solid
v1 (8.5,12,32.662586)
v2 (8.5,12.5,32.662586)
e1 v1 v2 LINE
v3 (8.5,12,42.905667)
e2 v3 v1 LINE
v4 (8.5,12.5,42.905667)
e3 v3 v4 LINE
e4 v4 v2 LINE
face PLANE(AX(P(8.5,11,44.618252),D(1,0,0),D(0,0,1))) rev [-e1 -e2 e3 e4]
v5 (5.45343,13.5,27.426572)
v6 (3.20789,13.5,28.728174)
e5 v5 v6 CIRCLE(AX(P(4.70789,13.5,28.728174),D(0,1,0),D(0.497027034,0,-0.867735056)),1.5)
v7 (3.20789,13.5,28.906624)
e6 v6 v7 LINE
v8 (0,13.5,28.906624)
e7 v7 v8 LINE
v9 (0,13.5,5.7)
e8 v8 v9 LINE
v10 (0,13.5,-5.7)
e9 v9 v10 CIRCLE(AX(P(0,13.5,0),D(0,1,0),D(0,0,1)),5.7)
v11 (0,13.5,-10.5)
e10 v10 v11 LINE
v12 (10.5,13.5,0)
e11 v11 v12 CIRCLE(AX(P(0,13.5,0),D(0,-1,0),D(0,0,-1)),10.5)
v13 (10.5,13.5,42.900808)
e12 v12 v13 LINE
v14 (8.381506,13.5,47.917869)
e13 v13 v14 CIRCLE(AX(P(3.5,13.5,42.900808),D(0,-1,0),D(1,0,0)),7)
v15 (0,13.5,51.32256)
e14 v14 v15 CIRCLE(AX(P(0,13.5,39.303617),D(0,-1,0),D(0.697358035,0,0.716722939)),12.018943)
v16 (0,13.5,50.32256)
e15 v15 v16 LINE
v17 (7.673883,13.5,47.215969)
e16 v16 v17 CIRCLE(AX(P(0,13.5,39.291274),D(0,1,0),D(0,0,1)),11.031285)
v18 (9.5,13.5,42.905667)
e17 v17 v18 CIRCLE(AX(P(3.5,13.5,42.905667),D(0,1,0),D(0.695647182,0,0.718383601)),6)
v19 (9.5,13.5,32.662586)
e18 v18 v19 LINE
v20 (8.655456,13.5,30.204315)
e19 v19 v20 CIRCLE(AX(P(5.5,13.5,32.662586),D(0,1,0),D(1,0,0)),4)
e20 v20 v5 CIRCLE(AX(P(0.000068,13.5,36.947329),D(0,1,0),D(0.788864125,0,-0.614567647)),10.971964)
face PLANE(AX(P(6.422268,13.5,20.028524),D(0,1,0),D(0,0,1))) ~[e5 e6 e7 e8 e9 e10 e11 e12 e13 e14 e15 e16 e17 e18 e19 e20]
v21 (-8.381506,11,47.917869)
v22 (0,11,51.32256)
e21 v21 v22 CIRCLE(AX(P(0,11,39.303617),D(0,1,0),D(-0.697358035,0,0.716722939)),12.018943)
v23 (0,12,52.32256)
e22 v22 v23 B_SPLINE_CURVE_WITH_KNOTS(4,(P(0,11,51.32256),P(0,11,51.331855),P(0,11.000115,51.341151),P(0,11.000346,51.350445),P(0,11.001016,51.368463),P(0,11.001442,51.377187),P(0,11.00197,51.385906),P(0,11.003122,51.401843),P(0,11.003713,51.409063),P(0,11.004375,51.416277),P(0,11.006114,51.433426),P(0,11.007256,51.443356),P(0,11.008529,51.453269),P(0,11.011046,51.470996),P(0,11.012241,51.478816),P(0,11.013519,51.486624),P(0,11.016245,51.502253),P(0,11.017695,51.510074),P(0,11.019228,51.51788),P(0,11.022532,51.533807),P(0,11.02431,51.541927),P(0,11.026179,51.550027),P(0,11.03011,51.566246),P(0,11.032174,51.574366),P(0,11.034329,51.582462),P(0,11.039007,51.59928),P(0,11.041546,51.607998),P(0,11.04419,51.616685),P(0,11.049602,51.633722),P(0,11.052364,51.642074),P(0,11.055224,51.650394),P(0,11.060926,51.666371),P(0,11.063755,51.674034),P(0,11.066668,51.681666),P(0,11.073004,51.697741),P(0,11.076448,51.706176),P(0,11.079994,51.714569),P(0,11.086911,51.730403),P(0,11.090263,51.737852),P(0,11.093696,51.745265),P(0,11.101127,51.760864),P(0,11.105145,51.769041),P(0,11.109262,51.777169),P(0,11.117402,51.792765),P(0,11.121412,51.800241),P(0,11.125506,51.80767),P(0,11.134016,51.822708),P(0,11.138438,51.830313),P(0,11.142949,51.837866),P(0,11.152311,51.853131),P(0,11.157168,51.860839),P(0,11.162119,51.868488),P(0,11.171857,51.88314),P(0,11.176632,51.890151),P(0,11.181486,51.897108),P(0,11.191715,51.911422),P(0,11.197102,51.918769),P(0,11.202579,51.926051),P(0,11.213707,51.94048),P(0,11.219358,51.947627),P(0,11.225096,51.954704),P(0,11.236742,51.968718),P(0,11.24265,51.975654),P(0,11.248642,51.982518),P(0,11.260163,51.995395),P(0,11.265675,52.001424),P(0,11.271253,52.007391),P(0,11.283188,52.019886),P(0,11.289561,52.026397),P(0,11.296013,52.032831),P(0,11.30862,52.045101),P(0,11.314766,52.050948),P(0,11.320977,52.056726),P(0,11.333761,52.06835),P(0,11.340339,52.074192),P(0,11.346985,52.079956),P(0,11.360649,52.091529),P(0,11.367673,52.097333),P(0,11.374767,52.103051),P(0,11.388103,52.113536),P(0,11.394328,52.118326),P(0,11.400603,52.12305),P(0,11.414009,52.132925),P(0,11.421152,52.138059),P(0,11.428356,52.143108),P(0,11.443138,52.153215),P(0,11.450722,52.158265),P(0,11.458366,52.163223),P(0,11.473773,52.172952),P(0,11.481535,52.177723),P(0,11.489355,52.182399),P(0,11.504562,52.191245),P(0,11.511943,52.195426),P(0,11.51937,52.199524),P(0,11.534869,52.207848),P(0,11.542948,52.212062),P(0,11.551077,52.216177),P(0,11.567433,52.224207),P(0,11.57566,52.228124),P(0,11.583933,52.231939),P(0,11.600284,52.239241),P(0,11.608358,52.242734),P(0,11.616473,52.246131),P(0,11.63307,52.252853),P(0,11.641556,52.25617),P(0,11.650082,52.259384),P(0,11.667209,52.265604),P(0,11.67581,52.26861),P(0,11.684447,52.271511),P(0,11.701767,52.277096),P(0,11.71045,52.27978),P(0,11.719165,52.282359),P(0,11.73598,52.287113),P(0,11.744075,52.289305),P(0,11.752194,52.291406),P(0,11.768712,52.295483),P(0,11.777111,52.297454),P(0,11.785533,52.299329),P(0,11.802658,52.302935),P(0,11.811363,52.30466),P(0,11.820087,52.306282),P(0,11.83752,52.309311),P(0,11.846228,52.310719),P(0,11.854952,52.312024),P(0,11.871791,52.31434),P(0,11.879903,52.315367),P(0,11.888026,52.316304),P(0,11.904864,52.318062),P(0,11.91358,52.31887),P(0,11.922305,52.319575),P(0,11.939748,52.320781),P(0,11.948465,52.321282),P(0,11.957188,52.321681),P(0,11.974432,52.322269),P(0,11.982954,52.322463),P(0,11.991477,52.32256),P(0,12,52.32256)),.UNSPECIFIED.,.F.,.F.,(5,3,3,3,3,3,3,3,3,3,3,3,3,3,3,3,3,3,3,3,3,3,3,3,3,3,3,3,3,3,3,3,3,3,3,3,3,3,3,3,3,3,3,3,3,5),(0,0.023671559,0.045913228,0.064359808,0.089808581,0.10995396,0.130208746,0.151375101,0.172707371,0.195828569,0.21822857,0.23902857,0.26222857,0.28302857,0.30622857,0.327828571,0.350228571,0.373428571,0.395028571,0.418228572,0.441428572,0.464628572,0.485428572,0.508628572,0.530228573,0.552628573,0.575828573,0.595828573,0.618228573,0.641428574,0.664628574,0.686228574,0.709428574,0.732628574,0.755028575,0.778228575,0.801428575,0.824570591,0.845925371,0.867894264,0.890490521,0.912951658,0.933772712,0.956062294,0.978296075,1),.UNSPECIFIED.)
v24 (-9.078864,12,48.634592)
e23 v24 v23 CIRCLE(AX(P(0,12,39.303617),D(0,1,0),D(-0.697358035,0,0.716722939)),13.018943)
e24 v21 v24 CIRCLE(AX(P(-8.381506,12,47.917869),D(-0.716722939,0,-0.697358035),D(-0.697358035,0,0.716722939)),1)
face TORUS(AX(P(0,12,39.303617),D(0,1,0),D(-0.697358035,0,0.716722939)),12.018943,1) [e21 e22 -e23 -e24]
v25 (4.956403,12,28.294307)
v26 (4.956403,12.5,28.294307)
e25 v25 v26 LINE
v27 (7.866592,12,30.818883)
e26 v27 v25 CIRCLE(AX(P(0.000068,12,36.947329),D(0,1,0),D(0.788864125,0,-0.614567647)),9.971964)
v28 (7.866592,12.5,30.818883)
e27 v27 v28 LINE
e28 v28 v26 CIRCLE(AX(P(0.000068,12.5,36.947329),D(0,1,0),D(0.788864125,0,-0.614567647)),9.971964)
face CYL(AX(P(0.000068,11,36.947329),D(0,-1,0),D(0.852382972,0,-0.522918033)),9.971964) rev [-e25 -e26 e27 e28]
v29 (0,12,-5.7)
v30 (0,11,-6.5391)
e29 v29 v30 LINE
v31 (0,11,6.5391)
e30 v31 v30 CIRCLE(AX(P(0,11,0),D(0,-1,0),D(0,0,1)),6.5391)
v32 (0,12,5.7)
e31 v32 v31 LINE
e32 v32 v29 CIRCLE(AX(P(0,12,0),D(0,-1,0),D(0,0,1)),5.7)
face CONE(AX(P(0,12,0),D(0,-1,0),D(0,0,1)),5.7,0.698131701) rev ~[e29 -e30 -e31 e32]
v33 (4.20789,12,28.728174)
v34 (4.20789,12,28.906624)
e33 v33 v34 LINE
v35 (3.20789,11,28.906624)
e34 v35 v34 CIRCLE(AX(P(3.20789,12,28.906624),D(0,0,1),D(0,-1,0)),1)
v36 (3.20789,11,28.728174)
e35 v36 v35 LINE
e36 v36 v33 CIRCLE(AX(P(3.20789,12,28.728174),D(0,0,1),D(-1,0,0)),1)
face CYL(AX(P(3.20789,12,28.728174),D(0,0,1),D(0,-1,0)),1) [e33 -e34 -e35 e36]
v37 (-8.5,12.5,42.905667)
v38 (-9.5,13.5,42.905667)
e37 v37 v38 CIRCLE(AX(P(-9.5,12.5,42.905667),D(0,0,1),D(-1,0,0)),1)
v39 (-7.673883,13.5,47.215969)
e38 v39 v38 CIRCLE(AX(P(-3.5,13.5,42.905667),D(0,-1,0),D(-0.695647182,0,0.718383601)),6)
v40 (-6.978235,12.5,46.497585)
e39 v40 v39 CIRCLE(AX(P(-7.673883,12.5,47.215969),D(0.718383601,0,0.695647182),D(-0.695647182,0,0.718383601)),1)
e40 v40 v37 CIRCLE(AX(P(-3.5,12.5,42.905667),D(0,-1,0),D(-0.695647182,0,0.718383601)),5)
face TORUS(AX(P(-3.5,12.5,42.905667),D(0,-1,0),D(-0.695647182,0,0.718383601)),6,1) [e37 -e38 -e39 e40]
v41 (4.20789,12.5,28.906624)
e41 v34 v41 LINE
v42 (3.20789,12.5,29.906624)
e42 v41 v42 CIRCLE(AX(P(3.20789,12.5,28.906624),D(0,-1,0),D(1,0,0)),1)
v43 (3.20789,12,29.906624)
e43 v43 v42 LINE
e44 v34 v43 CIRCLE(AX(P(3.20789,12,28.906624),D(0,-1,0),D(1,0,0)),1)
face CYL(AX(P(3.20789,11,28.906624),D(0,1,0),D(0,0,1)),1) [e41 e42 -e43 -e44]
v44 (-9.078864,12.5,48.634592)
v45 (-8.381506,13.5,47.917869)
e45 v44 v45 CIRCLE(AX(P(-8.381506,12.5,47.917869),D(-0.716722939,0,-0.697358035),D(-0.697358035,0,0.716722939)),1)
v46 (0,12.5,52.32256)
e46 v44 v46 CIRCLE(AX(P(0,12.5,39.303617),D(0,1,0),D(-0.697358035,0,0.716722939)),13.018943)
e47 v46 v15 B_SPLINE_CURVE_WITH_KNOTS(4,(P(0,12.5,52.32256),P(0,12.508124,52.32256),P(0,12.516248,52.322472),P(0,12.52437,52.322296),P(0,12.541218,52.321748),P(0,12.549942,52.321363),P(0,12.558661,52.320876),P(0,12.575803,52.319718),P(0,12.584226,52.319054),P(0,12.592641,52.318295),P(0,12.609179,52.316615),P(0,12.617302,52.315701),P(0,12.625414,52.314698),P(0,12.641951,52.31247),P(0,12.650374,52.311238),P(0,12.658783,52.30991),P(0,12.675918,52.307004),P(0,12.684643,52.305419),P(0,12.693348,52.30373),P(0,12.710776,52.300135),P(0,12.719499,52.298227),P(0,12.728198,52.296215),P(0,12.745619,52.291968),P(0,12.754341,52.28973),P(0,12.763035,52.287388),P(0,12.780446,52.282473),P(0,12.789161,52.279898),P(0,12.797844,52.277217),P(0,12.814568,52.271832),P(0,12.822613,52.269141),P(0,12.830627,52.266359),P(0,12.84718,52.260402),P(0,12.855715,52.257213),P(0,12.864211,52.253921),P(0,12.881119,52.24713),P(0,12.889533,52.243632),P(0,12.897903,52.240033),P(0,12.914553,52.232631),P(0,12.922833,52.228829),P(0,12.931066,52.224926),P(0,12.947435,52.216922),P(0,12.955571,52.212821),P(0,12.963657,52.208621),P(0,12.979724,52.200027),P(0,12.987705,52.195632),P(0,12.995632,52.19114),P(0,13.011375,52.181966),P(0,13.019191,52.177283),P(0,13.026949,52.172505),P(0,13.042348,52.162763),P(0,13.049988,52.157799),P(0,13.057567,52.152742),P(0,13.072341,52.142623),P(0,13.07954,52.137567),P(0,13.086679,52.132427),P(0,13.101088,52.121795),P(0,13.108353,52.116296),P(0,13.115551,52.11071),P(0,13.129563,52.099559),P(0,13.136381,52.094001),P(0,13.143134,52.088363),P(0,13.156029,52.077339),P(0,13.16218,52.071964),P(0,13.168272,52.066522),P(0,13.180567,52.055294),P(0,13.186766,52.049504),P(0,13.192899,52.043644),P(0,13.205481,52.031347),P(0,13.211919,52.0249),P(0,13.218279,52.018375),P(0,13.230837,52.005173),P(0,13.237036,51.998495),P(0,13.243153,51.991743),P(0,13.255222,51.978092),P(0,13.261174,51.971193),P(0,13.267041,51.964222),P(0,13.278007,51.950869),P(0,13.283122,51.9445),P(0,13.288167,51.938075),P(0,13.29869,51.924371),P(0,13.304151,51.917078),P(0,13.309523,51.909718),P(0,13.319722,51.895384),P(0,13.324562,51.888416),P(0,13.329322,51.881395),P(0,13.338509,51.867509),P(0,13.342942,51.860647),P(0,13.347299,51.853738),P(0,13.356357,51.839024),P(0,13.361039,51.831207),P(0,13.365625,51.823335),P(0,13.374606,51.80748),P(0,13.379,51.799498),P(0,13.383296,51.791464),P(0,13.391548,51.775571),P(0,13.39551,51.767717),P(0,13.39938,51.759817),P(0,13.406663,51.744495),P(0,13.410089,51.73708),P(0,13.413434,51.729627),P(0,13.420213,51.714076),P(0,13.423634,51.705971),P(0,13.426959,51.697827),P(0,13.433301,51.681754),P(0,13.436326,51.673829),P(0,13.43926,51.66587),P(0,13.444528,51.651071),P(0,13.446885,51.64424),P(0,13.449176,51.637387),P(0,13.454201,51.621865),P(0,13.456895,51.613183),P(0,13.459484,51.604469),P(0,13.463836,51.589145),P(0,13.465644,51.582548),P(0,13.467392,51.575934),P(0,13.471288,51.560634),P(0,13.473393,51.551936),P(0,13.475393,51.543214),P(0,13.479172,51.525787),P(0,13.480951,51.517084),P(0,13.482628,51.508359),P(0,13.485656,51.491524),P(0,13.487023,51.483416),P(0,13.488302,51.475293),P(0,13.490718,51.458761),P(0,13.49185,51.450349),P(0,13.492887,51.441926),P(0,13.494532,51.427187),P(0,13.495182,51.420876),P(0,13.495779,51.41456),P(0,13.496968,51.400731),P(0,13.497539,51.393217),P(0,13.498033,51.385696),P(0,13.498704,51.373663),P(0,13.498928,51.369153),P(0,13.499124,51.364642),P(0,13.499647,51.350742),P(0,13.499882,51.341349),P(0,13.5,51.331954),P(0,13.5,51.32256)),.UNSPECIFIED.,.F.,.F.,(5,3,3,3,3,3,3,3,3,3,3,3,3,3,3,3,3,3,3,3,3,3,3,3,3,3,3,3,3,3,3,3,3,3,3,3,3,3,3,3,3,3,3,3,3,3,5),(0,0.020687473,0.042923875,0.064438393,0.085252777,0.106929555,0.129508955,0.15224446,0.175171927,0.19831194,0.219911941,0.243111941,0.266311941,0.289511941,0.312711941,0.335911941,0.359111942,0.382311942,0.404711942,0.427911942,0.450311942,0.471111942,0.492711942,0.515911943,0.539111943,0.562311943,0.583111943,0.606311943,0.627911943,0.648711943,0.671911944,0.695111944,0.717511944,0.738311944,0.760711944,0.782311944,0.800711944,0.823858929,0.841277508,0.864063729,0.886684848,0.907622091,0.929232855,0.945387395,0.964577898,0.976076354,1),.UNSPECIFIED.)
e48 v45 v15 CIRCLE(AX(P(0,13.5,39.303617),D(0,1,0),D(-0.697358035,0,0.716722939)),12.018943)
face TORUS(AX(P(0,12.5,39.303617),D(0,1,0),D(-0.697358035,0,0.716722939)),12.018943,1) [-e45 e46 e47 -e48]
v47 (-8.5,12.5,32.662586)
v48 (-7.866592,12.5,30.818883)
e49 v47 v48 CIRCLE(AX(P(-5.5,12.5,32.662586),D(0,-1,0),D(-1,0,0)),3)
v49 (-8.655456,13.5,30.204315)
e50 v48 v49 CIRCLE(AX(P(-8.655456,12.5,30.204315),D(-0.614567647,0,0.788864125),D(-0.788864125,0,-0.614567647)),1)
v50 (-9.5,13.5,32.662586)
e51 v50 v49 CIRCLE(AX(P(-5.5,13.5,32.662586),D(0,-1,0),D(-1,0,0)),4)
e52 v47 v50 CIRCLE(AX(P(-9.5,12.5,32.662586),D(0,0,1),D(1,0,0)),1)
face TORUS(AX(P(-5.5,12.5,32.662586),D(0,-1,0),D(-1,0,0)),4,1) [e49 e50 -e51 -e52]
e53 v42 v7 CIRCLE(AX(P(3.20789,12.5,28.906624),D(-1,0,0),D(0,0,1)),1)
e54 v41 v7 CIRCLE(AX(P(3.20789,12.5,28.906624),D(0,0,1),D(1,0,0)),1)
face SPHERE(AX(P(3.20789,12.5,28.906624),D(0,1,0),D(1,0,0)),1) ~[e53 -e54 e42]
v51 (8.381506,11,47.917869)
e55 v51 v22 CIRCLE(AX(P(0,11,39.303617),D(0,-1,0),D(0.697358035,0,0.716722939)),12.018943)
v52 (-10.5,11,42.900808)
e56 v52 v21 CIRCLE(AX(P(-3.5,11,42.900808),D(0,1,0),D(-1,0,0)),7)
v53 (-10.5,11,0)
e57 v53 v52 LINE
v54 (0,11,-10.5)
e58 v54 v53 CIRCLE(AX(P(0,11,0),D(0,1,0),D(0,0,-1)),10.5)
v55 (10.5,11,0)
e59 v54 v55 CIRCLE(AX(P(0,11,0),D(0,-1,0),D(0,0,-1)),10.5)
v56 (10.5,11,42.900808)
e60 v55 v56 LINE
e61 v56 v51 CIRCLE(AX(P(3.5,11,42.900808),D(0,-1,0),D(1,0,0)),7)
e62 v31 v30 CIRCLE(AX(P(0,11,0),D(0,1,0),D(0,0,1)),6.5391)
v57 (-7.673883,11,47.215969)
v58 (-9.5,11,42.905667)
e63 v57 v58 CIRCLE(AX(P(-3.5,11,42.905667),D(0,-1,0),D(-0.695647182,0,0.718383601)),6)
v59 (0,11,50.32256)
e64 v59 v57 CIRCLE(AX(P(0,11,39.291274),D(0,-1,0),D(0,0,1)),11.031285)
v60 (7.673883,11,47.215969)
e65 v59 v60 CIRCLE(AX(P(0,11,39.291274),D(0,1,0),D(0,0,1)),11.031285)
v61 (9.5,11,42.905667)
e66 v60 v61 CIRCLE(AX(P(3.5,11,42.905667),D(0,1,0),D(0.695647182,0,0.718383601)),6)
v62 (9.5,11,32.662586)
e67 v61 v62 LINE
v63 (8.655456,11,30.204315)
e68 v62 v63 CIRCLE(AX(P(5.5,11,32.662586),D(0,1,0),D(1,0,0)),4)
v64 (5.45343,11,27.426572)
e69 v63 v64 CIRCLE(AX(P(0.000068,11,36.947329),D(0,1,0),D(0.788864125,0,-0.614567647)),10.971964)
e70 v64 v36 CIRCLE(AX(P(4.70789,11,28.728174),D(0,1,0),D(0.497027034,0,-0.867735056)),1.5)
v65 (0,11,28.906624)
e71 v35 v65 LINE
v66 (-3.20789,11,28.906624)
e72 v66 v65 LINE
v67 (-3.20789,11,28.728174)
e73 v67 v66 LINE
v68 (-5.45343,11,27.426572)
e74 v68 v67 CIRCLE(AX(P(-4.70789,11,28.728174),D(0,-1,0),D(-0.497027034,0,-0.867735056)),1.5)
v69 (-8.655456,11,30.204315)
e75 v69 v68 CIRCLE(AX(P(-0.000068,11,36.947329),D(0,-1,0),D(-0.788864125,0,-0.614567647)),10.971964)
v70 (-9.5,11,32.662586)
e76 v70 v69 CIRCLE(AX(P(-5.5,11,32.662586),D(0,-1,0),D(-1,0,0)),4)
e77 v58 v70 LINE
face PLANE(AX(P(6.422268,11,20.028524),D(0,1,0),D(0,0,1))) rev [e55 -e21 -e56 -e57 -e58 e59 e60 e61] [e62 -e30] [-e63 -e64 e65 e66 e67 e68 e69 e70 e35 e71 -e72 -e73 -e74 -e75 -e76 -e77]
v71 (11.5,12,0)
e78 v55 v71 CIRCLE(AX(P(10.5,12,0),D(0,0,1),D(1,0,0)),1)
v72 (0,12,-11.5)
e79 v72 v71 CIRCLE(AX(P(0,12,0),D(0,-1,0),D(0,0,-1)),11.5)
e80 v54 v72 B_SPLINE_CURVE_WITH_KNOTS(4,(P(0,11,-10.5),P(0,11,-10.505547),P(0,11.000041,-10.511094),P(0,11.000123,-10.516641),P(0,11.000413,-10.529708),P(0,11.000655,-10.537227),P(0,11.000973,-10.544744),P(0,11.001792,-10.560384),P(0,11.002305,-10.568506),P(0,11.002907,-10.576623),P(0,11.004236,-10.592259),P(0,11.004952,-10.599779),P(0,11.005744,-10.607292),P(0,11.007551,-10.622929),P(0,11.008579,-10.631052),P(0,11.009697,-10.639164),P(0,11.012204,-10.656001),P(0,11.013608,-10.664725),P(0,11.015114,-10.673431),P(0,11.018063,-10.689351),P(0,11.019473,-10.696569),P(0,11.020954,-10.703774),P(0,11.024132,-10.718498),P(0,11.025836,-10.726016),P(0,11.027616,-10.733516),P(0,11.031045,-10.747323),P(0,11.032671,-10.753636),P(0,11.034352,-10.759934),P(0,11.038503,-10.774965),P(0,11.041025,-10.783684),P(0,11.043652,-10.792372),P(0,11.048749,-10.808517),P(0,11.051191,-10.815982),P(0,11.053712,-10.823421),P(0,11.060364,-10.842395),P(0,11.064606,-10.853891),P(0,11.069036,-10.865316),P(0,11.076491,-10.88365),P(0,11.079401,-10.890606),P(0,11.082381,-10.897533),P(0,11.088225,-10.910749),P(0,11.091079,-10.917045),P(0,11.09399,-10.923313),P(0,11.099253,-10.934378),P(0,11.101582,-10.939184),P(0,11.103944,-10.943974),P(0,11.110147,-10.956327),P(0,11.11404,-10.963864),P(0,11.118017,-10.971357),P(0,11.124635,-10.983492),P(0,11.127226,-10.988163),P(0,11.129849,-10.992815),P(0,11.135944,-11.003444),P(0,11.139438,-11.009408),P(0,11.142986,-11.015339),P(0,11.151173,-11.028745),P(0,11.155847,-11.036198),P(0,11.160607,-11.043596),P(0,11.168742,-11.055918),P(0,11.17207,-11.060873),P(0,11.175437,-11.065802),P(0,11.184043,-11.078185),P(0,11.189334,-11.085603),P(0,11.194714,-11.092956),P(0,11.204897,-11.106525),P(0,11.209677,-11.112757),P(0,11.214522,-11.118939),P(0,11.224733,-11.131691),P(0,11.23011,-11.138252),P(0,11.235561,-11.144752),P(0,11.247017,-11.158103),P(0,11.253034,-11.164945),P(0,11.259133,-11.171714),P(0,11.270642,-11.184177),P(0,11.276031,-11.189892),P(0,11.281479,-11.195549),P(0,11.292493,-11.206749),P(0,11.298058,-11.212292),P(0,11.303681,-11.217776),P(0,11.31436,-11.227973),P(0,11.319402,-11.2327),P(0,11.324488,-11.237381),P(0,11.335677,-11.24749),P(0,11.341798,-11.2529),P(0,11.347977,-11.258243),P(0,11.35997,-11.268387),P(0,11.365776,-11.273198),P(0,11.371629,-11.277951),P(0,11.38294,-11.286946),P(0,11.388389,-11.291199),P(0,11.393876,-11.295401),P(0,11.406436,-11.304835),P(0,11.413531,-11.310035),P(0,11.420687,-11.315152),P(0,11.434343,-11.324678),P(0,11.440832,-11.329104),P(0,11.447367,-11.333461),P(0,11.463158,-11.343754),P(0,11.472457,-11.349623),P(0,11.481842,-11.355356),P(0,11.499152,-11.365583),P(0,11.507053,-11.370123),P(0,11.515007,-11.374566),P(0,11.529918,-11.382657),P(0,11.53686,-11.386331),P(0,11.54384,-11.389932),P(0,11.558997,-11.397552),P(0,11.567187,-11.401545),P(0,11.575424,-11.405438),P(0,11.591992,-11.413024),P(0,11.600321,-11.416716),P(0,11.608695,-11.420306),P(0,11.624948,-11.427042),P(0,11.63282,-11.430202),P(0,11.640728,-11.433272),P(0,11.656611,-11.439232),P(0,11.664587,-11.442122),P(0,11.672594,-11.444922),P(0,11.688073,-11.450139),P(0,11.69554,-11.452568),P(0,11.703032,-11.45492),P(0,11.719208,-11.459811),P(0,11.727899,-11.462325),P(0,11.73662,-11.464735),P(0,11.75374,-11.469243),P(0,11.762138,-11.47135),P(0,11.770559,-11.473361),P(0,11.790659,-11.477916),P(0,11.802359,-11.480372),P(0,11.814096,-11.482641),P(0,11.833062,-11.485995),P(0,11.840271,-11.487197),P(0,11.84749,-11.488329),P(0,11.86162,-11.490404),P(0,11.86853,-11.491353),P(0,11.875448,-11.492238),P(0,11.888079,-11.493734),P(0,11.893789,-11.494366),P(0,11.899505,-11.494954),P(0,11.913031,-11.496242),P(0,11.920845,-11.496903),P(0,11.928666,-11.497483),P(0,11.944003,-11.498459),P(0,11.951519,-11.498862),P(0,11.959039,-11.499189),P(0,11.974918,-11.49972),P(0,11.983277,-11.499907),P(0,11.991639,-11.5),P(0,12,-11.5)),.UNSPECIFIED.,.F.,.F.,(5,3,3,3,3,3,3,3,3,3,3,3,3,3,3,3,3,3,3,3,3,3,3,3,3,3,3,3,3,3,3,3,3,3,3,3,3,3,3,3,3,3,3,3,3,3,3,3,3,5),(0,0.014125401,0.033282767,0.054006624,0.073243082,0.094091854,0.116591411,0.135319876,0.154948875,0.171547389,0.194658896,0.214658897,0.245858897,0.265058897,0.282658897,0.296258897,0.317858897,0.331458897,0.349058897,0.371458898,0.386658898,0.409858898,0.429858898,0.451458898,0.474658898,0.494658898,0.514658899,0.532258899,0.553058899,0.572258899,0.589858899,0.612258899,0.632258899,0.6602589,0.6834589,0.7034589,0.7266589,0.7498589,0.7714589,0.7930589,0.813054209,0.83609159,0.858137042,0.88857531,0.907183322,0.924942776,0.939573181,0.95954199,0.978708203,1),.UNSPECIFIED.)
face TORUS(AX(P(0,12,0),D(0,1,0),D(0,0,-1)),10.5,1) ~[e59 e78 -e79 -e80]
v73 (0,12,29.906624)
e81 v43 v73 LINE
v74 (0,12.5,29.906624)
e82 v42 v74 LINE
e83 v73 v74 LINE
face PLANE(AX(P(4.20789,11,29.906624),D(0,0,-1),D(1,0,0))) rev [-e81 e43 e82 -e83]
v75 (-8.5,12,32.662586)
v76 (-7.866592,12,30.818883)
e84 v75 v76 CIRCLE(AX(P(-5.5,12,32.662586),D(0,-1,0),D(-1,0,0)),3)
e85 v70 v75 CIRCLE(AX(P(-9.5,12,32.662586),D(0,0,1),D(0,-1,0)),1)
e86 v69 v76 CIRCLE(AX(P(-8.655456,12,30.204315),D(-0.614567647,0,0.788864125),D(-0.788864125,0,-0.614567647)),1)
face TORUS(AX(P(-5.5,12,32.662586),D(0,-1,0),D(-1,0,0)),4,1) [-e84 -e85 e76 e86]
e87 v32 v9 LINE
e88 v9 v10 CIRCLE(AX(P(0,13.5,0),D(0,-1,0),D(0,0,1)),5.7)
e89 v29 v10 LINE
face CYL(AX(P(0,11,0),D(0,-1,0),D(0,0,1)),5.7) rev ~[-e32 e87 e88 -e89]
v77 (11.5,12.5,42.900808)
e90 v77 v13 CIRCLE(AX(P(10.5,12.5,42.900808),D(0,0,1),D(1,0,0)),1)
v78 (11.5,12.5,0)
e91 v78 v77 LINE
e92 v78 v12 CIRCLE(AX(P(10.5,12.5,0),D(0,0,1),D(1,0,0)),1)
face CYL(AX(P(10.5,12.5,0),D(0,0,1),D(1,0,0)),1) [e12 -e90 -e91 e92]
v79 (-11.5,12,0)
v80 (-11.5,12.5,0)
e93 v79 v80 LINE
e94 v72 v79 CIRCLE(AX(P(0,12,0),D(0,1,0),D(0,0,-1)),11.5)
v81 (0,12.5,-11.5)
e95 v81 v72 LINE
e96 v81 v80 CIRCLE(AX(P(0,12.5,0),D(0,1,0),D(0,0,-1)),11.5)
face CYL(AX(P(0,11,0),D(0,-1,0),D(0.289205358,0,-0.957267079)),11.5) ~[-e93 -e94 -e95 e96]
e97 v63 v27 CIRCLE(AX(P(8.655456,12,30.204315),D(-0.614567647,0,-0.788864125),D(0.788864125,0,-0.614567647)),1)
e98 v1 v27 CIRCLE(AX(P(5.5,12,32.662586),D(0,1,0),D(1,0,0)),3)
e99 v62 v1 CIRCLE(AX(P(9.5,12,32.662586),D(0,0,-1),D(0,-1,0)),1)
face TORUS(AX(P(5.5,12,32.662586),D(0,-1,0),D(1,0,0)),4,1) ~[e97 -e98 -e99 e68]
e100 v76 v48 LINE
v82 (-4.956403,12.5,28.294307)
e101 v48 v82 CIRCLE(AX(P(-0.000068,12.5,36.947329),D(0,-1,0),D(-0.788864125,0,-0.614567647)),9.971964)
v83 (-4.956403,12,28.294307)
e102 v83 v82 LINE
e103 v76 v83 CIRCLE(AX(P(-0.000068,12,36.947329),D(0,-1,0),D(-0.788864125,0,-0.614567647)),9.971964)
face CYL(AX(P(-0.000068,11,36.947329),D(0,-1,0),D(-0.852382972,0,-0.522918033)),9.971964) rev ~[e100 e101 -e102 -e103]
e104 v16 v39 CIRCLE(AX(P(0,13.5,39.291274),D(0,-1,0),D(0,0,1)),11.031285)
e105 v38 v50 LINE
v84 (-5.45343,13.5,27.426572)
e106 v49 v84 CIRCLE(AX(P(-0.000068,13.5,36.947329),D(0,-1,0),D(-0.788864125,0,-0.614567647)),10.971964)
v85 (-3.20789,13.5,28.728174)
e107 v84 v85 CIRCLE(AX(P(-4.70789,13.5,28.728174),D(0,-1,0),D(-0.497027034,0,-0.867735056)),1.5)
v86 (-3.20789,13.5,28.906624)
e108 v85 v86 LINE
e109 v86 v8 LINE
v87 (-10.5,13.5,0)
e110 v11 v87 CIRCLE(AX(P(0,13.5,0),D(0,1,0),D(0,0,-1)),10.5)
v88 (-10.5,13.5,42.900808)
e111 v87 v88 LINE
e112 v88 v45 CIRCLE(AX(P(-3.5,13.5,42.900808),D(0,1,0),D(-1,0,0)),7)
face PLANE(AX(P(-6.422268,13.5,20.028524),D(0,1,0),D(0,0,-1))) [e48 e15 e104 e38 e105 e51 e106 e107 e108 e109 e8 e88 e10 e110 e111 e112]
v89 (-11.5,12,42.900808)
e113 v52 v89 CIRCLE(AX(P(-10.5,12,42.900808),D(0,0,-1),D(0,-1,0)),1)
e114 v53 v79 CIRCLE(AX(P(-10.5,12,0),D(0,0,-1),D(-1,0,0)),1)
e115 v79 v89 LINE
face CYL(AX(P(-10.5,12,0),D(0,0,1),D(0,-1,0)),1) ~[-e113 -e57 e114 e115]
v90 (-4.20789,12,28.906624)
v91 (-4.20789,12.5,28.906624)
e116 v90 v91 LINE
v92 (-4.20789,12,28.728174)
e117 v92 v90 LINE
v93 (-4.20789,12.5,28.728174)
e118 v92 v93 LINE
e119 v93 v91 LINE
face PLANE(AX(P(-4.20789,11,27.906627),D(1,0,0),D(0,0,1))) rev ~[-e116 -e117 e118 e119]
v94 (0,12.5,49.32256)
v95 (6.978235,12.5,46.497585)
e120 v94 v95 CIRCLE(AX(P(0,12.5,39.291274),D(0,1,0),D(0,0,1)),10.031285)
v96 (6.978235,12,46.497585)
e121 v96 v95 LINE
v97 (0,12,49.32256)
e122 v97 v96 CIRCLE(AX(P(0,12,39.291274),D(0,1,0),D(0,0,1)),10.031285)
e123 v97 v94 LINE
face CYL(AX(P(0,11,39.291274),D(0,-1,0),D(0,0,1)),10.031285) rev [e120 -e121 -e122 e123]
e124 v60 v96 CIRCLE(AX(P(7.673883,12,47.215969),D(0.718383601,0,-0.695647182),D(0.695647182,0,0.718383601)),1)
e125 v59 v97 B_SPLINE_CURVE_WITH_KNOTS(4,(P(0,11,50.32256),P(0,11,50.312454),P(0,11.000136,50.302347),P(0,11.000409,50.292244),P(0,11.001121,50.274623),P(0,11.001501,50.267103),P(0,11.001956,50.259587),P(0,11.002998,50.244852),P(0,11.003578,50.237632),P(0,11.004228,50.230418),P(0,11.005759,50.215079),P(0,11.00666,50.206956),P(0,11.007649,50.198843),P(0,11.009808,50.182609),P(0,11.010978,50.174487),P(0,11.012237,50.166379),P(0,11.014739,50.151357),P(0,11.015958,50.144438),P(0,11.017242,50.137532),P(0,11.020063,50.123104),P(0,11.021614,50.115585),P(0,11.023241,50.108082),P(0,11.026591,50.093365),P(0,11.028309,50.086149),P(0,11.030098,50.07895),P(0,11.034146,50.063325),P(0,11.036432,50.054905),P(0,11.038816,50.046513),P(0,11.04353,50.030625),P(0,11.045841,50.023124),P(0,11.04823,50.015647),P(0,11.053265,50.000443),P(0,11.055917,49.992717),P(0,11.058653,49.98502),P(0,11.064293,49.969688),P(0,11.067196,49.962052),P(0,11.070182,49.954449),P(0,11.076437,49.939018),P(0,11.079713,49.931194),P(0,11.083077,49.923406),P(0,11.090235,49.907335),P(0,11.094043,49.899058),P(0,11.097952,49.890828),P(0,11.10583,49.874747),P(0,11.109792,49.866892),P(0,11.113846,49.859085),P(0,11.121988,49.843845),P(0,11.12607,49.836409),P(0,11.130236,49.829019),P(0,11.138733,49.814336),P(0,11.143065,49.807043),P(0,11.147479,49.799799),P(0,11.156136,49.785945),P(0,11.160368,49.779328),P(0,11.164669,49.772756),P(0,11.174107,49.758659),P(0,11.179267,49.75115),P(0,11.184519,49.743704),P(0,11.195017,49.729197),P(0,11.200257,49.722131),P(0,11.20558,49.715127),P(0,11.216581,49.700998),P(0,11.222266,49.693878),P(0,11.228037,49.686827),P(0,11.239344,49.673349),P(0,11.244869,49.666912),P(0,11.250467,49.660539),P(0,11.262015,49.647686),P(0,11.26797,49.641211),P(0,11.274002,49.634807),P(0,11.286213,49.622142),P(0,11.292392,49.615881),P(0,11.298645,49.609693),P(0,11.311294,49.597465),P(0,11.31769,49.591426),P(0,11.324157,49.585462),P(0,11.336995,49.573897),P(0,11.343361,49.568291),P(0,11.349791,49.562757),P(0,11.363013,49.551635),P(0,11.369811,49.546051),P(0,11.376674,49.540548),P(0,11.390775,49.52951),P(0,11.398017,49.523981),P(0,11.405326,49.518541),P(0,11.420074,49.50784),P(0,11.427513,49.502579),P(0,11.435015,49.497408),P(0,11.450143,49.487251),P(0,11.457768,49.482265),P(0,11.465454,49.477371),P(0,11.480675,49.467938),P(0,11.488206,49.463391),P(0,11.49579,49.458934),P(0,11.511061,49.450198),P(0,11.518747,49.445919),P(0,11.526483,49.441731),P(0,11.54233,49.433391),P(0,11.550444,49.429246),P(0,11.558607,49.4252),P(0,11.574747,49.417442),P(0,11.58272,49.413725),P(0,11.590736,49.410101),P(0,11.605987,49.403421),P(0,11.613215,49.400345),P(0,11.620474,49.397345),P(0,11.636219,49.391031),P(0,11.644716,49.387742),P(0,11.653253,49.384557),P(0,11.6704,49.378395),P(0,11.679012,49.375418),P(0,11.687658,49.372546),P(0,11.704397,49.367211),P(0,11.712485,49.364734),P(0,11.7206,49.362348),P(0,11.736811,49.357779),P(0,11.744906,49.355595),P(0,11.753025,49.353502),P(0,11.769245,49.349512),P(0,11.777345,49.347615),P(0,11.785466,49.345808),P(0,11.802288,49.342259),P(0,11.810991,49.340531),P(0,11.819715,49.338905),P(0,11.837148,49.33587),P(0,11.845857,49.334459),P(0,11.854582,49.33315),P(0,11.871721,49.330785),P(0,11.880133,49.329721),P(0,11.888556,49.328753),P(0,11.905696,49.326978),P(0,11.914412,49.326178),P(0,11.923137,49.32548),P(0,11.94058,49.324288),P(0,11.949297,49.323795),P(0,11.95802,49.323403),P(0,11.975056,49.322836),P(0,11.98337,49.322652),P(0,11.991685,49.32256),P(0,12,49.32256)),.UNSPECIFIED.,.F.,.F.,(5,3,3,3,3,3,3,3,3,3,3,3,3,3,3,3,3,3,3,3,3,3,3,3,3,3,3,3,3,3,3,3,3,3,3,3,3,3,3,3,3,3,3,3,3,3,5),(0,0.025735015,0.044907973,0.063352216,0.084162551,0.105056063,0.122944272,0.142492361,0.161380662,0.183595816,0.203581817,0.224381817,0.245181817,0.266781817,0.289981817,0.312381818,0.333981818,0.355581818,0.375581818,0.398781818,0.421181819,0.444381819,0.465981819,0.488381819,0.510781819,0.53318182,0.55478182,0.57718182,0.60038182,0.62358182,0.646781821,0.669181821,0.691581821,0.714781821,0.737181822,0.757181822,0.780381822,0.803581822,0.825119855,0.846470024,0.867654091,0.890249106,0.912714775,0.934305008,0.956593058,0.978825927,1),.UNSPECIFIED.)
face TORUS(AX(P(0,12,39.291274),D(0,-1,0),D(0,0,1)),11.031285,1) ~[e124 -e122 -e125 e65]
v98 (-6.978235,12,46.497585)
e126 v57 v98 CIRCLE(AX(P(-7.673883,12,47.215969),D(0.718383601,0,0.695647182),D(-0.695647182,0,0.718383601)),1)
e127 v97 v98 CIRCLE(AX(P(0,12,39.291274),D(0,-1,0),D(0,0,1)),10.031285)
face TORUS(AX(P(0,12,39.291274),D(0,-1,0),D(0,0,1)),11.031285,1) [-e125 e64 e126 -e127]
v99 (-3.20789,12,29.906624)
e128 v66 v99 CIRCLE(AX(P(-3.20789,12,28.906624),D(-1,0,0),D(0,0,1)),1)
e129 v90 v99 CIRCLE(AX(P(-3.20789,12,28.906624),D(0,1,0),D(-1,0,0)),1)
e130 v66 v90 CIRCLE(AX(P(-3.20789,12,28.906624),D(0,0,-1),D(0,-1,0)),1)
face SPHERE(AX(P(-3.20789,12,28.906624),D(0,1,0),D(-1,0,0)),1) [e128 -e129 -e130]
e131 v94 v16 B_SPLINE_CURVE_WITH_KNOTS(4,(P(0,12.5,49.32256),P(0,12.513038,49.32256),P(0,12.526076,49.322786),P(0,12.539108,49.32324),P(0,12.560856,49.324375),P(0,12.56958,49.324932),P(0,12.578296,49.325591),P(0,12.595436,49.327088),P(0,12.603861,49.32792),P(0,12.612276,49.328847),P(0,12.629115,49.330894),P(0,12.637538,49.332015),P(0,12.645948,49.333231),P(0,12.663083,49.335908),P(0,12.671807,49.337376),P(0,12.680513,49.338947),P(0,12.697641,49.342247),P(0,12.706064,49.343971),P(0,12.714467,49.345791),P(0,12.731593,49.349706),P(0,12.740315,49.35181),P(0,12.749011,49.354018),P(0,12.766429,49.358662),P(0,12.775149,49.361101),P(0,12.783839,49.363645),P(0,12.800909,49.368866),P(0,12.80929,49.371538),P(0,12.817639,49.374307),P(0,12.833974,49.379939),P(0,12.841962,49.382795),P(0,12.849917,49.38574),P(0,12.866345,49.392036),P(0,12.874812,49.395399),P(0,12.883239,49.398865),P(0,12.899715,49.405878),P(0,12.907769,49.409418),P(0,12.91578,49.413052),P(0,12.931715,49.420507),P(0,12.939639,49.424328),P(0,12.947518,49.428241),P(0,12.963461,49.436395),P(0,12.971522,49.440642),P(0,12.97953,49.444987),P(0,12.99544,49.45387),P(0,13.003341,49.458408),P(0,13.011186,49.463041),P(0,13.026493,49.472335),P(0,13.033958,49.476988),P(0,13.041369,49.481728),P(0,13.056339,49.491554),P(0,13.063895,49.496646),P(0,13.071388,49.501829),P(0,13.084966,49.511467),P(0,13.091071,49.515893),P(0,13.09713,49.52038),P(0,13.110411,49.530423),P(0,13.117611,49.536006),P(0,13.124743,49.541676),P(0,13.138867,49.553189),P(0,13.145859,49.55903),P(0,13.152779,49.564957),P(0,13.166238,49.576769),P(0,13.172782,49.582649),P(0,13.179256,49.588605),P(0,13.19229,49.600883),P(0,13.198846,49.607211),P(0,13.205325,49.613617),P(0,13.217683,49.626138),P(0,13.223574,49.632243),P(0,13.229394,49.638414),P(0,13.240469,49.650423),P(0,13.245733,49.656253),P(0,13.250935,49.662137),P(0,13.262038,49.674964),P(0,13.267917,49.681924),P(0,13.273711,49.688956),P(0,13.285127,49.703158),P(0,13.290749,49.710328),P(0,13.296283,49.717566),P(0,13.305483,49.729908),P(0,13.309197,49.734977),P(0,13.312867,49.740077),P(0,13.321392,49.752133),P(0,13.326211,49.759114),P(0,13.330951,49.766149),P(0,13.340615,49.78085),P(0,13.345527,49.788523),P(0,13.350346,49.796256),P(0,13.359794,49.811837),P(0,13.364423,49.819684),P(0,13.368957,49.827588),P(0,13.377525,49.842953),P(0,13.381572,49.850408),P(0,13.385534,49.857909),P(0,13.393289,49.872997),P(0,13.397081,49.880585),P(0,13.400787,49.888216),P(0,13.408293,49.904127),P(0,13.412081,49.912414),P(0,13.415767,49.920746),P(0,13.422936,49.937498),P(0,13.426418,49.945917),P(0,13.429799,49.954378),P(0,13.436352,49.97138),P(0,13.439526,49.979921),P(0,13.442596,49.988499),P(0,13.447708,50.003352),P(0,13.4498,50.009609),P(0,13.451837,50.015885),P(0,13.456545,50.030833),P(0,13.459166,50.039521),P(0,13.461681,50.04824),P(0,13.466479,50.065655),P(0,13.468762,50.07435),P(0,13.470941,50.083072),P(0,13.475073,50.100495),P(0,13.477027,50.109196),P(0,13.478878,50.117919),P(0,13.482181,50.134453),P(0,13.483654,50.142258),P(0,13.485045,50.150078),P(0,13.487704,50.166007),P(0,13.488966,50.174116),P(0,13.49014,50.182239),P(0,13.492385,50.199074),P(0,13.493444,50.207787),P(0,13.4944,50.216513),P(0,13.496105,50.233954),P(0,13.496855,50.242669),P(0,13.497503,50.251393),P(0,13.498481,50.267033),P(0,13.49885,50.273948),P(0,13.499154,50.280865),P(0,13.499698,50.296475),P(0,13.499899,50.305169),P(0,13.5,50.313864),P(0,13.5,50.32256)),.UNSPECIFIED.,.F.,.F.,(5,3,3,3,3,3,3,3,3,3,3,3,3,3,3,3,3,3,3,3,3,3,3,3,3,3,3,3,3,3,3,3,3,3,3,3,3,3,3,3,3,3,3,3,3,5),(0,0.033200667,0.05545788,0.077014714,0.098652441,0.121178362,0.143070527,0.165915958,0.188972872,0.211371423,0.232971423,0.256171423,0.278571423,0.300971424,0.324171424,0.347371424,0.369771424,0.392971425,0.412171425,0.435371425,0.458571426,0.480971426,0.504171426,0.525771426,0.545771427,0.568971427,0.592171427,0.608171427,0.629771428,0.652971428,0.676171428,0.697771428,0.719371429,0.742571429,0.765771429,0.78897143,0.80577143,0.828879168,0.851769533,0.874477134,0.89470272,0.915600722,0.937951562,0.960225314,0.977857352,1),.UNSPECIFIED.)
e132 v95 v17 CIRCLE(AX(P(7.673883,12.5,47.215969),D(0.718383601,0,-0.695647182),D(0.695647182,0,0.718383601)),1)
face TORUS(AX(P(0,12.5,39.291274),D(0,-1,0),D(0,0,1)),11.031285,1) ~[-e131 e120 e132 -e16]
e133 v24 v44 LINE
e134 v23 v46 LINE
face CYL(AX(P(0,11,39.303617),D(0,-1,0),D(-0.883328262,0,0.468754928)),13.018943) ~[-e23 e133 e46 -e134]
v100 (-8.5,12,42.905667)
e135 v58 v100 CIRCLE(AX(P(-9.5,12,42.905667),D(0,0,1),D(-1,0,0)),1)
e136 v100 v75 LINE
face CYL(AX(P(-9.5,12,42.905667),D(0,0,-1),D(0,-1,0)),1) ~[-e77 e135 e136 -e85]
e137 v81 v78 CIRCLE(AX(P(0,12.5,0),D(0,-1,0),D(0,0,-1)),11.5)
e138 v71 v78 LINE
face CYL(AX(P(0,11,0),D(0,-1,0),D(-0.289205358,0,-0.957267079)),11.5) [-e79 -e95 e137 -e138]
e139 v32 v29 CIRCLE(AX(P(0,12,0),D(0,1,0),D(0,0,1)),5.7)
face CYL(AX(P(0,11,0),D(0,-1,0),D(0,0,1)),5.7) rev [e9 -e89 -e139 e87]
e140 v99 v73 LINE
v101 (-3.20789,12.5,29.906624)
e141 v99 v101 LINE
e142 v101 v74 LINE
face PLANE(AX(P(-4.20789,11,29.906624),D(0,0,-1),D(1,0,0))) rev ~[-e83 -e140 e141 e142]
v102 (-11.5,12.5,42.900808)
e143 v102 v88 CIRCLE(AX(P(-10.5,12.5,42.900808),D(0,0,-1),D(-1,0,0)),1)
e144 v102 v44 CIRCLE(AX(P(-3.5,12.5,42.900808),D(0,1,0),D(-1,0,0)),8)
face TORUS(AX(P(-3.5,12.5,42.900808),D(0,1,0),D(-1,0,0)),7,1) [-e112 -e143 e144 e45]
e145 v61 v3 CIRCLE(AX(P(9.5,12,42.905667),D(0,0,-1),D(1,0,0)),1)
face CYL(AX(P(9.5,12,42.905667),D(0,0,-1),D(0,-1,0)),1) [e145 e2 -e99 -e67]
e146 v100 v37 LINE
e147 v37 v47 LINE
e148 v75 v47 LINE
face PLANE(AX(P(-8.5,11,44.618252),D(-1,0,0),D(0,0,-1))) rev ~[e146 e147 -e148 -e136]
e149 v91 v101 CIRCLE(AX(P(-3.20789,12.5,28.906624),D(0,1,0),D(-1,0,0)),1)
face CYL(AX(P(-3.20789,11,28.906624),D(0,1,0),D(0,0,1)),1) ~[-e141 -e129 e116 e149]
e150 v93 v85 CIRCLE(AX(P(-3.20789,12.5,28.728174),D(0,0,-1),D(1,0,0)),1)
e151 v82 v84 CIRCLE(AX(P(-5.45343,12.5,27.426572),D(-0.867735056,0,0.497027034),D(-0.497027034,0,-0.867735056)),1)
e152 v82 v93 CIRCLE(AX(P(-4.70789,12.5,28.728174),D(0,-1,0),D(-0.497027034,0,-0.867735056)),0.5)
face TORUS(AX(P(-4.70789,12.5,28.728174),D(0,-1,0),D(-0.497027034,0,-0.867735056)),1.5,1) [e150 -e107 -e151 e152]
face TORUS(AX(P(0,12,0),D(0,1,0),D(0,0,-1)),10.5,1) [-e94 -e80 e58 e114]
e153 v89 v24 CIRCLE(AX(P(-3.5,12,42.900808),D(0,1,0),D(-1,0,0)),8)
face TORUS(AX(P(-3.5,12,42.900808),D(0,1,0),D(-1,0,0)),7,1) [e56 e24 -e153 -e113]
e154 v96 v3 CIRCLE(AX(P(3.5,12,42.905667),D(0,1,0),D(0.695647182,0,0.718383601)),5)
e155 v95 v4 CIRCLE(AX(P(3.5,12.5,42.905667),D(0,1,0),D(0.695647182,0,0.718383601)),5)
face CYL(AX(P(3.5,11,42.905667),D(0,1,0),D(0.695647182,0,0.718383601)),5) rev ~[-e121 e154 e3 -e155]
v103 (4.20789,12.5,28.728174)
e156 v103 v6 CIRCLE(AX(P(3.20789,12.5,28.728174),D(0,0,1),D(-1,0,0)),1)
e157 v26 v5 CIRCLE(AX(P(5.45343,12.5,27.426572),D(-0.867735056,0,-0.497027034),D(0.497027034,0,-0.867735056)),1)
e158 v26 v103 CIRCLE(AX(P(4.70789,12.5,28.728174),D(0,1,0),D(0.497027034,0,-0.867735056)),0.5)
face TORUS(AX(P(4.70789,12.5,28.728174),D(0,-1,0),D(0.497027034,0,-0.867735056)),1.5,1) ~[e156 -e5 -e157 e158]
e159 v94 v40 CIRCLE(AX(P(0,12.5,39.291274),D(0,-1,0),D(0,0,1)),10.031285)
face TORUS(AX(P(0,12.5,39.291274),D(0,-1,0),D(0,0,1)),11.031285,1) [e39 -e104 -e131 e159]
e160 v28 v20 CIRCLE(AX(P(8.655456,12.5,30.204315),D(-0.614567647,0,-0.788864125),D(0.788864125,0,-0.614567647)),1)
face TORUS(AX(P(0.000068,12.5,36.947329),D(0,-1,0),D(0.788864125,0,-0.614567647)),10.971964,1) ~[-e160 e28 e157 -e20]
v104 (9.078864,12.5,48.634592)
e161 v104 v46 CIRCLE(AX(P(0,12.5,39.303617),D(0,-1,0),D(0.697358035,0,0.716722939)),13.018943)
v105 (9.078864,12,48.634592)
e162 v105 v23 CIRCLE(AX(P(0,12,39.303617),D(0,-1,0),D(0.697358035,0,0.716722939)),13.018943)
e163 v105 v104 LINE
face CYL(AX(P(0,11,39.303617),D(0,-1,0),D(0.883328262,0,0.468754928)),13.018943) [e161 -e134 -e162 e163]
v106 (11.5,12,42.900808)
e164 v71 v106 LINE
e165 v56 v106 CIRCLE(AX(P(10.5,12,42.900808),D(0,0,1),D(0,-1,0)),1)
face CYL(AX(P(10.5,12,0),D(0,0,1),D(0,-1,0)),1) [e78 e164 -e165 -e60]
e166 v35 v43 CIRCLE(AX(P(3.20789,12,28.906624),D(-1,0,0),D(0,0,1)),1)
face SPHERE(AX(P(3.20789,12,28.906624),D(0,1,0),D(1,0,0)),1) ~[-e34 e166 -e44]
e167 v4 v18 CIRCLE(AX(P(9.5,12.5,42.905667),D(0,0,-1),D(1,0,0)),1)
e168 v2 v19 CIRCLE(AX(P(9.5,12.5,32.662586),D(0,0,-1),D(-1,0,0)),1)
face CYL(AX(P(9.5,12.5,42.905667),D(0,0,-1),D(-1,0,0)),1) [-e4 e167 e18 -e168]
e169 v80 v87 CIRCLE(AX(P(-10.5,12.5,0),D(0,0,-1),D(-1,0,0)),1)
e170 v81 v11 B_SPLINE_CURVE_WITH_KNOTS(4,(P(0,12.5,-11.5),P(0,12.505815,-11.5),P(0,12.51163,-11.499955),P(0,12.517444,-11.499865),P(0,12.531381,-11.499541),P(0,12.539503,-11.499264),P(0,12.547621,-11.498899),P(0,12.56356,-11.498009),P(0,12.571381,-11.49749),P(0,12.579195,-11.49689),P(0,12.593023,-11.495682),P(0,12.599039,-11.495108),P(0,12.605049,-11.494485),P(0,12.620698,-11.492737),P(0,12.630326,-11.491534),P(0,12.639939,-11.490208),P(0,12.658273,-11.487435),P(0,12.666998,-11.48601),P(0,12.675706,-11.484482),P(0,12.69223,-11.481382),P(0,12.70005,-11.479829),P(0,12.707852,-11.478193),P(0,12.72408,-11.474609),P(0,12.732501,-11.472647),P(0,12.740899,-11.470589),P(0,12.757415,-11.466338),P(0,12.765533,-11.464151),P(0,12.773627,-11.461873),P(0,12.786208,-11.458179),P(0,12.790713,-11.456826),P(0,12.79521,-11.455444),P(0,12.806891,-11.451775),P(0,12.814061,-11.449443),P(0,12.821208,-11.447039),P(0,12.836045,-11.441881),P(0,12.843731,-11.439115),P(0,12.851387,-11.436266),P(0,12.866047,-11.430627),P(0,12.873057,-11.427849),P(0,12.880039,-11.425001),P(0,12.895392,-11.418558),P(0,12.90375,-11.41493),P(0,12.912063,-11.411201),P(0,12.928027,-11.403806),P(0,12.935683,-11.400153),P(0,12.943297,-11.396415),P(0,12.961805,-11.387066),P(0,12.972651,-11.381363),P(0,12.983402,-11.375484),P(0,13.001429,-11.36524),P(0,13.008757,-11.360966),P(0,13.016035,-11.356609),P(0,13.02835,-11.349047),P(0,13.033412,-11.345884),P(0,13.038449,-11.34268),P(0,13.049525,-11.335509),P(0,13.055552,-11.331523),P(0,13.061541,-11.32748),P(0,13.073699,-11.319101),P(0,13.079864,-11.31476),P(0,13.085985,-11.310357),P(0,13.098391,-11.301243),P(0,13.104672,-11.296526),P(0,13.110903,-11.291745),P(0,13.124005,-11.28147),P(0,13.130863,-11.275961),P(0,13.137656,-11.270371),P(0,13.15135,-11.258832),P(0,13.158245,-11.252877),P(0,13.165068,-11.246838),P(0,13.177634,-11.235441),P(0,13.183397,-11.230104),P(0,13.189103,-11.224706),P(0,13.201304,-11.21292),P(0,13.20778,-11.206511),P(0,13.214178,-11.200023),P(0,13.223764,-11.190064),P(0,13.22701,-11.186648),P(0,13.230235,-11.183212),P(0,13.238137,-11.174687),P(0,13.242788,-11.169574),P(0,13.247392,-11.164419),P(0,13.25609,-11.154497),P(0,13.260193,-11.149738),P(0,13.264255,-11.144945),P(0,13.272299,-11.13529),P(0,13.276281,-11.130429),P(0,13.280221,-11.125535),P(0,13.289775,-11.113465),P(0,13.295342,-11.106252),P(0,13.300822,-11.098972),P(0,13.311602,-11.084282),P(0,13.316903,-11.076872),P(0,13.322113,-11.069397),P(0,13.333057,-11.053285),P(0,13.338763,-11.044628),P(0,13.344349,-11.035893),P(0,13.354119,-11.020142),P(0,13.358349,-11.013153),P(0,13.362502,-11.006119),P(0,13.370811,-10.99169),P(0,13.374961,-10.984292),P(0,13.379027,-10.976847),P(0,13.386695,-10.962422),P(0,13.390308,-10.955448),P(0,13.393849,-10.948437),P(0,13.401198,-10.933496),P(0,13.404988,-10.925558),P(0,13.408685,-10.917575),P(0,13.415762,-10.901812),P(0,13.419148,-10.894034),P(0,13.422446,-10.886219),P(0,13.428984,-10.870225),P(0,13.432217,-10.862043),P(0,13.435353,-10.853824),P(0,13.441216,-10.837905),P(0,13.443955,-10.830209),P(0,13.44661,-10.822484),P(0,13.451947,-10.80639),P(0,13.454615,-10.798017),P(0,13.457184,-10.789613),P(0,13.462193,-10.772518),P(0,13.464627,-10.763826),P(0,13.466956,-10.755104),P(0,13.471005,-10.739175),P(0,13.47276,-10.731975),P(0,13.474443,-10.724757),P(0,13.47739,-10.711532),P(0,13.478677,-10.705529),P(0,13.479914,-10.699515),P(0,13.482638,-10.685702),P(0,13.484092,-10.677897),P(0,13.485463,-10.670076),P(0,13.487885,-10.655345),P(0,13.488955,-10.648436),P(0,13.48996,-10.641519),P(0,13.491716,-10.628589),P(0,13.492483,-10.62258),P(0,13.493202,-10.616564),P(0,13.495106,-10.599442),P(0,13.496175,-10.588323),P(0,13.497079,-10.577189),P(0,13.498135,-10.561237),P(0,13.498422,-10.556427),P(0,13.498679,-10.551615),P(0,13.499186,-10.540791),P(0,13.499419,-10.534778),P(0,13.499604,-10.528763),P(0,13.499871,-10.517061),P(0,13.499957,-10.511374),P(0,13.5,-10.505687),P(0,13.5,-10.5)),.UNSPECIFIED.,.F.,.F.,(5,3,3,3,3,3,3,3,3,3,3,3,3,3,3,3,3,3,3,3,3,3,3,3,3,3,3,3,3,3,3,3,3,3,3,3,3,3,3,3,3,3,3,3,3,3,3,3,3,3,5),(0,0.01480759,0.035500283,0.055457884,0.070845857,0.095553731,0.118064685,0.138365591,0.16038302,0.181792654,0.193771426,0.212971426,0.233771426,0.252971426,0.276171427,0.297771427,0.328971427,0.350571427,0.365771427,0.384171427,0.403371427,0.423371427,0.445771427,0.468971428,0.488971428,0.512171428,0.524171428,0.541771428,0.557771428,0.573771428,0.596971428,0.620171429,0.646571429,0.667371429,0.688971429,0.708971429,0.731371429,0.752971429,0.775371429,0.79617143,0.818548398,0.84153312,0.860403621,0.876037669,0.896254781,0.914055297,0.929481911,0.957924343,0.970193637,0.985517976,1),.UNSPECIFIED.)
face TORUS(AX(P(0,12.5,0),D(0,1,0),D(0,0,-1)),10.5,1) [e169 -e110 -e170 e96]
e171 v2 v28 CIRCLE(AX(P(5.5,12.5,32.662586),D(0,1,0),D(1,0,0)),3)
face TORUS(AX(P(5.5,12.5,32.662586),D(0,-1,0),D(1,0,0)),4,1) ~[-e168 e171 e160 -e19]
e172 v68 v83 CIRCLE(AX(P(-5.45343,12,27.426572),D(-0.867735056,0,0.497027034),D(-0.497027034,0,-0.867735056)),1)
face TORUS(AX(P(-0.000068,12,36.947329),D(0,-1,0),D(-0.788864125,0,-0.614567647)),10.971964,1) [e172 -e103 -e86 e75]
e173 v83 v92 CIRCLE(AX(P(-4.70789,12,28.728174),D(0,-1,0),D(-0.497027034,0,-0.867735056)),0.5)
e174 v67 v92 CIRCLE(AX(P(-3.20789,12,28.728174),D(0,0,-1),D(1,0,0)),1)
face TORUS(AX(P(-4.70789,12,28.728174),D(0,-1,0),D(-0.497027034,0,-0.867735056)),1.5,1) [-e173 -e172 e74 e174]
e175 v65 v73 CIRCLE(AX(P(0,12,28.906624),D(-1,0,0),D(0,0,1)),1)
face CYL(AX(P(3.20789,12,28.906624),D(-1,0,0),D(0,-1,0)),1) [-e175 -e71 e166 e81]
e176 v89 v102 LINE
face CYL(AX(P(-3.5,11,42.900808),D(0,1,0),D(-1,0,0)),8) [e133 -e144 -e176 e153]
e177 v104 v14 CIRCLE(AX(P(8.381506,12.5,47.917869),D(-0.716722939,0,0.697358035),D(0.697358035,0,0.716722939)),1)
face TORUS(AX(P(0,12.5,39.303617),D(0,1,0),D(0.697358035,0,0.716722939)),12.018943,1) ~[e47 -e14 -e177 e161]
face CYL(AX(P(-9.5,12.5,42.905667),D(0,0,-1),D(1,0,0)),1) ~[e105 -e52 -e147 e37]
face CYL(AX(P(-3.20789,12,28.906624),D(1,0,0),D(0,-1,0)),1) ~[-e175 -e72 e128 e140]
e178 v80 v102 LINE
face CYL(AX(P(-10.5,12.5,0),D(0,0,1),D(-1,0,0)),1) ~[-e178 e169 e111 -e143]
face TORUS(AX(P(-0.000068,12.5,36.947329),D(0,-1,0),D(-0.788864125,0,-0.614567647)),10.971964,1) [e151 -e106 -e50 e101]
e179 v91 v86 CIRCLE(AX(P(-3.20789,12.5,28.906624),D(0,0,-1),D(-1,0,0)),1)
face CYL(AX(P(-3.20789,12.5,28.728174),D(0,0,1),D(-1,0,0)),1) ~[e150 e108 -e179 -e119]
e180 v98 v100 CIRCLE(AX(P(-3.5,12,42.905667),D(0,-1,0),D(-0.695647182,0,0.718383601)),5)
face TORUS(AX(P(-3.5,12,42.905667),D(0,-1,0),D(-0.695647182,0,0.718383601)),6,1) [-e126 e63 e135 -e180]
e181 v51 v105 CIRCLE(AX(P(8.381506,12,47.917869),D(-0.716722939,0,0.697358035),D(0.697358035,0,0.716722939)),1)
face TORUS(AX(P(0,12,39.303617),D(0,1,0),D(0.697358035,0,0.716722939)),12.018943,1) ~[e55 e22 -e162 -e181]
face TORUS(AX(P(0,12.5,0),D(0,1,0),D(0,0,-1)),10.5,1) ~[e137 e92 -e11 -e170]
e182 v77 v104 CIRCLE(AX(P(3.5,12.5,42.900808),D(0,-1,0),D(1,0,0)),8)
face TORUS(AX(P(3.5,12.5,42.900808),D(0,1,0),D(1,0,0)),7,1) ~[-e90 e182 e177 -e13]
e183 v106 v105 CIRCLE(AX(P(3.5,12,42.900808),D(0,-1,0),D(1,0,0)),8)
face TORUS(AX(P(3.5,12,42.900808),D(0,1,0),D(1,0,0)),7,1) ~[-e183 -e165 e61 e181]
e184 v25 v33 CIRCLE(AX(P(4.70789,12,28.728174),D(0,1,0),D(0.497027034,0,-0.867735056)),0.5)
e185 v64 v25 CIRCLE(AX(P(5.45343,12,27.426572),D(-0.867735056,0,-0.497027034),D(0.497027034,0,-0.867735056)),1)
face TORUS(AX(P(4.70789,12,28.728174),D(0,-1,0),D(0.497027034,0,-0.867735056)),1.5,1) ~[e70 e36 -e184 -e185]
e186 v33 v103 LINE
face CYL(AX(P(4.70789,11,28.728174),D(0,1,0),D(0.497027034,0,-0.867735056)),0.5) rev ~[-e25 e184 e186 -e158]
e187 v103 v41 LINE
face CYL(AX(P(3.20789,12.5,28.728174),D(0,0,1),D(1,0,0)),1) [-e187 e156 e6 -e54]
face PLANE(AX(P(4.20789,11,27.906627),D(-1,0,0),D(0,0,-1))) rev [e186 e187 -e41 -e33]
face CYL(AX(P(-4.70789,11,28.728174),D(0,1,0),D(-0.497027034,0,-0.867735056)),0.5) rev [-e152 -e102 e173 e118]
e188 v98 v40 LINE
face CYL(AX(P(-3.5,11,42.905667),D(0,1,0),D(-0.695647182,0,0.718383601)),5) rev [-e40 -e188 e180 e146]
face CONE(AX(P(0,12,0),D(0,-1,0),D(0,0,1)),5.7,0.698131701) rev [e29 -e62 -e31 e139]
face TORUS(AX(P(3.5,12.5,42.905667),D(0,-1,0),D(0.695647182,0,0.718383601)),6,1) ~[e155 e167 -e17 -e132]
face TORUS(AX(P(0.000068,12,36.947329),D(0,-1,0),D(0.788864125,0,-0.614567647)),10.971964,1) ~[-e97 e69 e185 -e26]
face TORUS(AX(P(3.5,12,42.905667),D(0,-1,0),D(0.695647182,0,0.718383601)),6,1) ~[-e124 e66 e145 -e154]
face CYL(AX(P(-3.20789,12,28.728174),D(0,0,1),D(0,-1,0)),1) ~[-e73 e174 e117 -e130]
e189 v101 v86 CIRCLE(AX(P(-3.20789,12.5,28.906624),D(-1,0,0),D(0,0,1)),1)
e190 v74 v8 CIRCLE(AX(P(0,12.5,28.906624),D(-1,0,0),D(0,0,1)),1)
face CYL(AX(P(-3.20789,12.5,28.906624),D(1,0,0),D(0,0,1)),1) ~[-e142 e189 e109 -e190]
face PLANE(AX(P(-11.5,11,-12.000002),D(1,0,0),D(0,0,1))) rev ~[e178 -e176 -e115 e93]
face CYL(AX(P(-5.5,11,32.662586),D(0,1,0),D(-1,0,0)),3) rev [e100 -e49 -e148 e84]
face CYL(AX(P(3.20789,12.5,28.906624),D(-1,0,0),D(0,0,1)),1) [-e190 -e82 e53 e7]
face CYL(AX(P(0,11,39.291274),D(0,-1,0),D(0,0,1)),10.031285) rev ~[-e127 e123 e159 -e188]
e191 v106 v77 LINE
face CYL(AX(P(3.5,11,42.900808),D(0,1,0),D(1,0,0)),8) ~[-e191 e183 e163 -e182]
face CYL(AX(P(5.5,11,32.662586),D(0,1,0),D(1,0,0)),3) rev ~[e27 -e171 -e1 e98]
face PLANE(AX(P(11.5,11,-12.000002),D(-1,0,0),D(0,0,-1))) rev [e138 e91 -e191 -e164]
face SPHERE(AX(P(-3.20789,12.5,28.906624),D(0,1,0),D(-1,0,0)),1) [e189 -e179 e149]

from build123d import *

# Parameters (mm, degrees)
BOSS_EXTRUDE1_DEPTH = 2.5
CUT_EXTRUDE1_DEPTH  = 10
FILLET1_R           = 1
FILLET2_R           = 8
FILLET3_R           = 5
FILLET4_R           = 3
FILLET5_R           = 0.5
FILLET6_R           = 1
FILLET7_R           = 1
CHAMFER1_SIZE       = 1
CHAMFER1_SIZE2      = 0.839099631


with BuildPart() as part:
    # Sketch3 → Boss-Extrude1 (new body)
    with BuildSketch(Plane(origin=(0, 11, 0), x_dir=(0, 0, 1), z_dir=(0, -1, 0))):
        with BuildLine():
            Line((-5.7, 0), (-12.000001825, 0))
            Line((-12.000001825, 0), (-12.000001825, 11.5))
            Line((-12.000001825, 11.5), (45.406310527, 11.5))
            ThreePointArc((45.406310527, 11.5), (50.46030749, 6.709778353), (52.322559669, 0))
            Line((52.322559669, 0), (49.322559669, 0))
            ThreePointArc((49.322559669, 0), (48.068036881, 4.857481326), (44.618252316, 8.499999508))
            Line((44.618252316, 8.499999508), (31.732809444, 8.499999508))
            ThreePointArc((31.732809444, 8.499999508), (29.503647996, 6.63570395), (27.906627074, 4.207889529))
            Line((27.906627074, 4.207889529), (29.906623676, 4.207889529))
            Line((29.906623676, 4.207889529), (29.906623676, 0))
            Line((29.906623676, 0), (5.7, 0))
            ThreePointArc((5.7, 0), (0, 5.7), (-5.7, 0))
        make_face()
    extrude(amount=-BOSS_EXTRUDE1_DEPTH)

    # Sketch5 → Cut-Extrude1 (cut)
    with BuildSketch(Plane(origin=(0, 11, 0), x_dir=(0, 0, 1), z_dir=(0, -1, 0))):
        with BuildLine():
            Line((0, 11.5), (0, 20.081542109))
            Line((0, 20.081542109), (-17.206571574, 20.081542109))
            Line((-17.206571574, 20.081542109), (-17.206571574, -3.325861619))
            Line((-17.206571574, -3.325861619), (-11.00857141, -3.325861619))
            ThreePointArc((-11.00857141, -3.325861619), (-9.23302249, 6.855749098), (0, 11.5))
        make_face()
    extrude(amount=-CUT_EXTRUDE1_DEPTH, mode=Mode.SUBTRACT)

    # Fillet1
    fillet1_edges = [part.edges().sort_by_distance(p)[0] for p in [
        (-4.207889529, 12.25, 29.906623676),
    ]]
    fillet(fillet1_edges, radius=FILLET1_R)

    # Fillet2
    fillet2_edges = [part.edges().sort_by_distance(p)[0] for p in [
        (-11.5, 12.25, 45.406310527),
    ]]
    fillet(fillet2_edges, radius=FILLET2_R)

    # Fillet3
    fillet3_edges = [part.edges().sort_by_distance(p)[0] for p in [
        (-8.499999508, 12.25, 44.618252316),
    ]]
    fillet(fillet3_edges, radius=FILLET3_R)

    # Fillet4
    fillet4_edges = [part.edges().sort_by_distance(p)[0] for p in [
        (-8.499999508, 12.25, 31.732809444),
    ]]
    fillet(fillet4_edges, radius=FILLET4_R)

    # Fillet5
    fillet5_edges = [part.edges().sort_by_distance(p)[0] for p in [
        (-4.207889529, 12.25, 27.906627074),
    ]]
    fillet(fillet5_edges, radius=FILLET5_R)

    # Fillet6
    fillet6_edges = [part.edges().sort_by_distance(p)[0] for p in [
        (-4.899665378, 11, 51.36538086),
        (-8.131727984, 11, -8.131727984),
        (-4.899665378, 13.5, 51.36538086),
        (-8.131727984, 13.5, -8.131727984),
        (-11.5, 11, 21.45040417),
        (-10.869902111, 11, 46.012808159),
        (-11.5, 13.5, 21.45040417),
        (-10.869902111, 13.5, 46.012808159),
    ]]
    fillet(fillet6_edges, radius=FILLET6_R)

    # Fillet7
    fillet7_edges = [part.edges().sort_by_distance(p)[0] for p in [
        (-1.603944764, 13.5, 29.906623676),
        (-1.603944764, 11, 29.906623676),
        (-4.207889529, 11, 28.817398931),
        (-3.91499631, 11, 29.613730457),
        (-4.207889529, 13.5, 28.817398931),
        (-3.91499631, 13.5, 29.613730457),
        (-3.764181528, 11, 48.589533472),
        (-3.764181528, 13.5, 48.589533472),
        (-8.103866337, 11, 44.856156934),
        (-8.103866337, 13.5, 44.856156934),
        (-8.499999508, 13.5, 37.784126486),
        (-8.499999508, 11, 37.784126486),
        (-8.337232062, 11, 31.68784918),
        (-8.337232062, 13.5, 31.68784918),
        (-6.534576313, 13.5, 29.414716402),
        (-6.534576313, 11, 29.414716402),
        (-4.457147388, 11, 28.295590808),
        (-4.457147388, 13.5, 28.295590808),
    ]]
    fillet(fillet7_edges, radius=FILLET7_R)

    # Chamfer1
    chamfer1_edges = [part.edges().sort_by_distance(p)[0] for p in [
        (-5.7, 11, 0),
    ]]
    chamfer1_side = [part.faces().sort_by_distance(p)[0] for p in [
        (-5.7, 12.25, 0),
    ]]
    chamfer(chamfer1_edges, length=CHAMFER1_SIZE, length2=CHAMFER1_SIZE2, reference=chamfer1_side[0])

    # Mirror1: part across plane


with BuildPart() as part_1:
    add(part.part)
    add(part.part.mirror(Plane(origin=(0, 0, 0), x_dir=(0, 0, 1), z_dir=(1, 0, 0))))


solid = part_1.part
